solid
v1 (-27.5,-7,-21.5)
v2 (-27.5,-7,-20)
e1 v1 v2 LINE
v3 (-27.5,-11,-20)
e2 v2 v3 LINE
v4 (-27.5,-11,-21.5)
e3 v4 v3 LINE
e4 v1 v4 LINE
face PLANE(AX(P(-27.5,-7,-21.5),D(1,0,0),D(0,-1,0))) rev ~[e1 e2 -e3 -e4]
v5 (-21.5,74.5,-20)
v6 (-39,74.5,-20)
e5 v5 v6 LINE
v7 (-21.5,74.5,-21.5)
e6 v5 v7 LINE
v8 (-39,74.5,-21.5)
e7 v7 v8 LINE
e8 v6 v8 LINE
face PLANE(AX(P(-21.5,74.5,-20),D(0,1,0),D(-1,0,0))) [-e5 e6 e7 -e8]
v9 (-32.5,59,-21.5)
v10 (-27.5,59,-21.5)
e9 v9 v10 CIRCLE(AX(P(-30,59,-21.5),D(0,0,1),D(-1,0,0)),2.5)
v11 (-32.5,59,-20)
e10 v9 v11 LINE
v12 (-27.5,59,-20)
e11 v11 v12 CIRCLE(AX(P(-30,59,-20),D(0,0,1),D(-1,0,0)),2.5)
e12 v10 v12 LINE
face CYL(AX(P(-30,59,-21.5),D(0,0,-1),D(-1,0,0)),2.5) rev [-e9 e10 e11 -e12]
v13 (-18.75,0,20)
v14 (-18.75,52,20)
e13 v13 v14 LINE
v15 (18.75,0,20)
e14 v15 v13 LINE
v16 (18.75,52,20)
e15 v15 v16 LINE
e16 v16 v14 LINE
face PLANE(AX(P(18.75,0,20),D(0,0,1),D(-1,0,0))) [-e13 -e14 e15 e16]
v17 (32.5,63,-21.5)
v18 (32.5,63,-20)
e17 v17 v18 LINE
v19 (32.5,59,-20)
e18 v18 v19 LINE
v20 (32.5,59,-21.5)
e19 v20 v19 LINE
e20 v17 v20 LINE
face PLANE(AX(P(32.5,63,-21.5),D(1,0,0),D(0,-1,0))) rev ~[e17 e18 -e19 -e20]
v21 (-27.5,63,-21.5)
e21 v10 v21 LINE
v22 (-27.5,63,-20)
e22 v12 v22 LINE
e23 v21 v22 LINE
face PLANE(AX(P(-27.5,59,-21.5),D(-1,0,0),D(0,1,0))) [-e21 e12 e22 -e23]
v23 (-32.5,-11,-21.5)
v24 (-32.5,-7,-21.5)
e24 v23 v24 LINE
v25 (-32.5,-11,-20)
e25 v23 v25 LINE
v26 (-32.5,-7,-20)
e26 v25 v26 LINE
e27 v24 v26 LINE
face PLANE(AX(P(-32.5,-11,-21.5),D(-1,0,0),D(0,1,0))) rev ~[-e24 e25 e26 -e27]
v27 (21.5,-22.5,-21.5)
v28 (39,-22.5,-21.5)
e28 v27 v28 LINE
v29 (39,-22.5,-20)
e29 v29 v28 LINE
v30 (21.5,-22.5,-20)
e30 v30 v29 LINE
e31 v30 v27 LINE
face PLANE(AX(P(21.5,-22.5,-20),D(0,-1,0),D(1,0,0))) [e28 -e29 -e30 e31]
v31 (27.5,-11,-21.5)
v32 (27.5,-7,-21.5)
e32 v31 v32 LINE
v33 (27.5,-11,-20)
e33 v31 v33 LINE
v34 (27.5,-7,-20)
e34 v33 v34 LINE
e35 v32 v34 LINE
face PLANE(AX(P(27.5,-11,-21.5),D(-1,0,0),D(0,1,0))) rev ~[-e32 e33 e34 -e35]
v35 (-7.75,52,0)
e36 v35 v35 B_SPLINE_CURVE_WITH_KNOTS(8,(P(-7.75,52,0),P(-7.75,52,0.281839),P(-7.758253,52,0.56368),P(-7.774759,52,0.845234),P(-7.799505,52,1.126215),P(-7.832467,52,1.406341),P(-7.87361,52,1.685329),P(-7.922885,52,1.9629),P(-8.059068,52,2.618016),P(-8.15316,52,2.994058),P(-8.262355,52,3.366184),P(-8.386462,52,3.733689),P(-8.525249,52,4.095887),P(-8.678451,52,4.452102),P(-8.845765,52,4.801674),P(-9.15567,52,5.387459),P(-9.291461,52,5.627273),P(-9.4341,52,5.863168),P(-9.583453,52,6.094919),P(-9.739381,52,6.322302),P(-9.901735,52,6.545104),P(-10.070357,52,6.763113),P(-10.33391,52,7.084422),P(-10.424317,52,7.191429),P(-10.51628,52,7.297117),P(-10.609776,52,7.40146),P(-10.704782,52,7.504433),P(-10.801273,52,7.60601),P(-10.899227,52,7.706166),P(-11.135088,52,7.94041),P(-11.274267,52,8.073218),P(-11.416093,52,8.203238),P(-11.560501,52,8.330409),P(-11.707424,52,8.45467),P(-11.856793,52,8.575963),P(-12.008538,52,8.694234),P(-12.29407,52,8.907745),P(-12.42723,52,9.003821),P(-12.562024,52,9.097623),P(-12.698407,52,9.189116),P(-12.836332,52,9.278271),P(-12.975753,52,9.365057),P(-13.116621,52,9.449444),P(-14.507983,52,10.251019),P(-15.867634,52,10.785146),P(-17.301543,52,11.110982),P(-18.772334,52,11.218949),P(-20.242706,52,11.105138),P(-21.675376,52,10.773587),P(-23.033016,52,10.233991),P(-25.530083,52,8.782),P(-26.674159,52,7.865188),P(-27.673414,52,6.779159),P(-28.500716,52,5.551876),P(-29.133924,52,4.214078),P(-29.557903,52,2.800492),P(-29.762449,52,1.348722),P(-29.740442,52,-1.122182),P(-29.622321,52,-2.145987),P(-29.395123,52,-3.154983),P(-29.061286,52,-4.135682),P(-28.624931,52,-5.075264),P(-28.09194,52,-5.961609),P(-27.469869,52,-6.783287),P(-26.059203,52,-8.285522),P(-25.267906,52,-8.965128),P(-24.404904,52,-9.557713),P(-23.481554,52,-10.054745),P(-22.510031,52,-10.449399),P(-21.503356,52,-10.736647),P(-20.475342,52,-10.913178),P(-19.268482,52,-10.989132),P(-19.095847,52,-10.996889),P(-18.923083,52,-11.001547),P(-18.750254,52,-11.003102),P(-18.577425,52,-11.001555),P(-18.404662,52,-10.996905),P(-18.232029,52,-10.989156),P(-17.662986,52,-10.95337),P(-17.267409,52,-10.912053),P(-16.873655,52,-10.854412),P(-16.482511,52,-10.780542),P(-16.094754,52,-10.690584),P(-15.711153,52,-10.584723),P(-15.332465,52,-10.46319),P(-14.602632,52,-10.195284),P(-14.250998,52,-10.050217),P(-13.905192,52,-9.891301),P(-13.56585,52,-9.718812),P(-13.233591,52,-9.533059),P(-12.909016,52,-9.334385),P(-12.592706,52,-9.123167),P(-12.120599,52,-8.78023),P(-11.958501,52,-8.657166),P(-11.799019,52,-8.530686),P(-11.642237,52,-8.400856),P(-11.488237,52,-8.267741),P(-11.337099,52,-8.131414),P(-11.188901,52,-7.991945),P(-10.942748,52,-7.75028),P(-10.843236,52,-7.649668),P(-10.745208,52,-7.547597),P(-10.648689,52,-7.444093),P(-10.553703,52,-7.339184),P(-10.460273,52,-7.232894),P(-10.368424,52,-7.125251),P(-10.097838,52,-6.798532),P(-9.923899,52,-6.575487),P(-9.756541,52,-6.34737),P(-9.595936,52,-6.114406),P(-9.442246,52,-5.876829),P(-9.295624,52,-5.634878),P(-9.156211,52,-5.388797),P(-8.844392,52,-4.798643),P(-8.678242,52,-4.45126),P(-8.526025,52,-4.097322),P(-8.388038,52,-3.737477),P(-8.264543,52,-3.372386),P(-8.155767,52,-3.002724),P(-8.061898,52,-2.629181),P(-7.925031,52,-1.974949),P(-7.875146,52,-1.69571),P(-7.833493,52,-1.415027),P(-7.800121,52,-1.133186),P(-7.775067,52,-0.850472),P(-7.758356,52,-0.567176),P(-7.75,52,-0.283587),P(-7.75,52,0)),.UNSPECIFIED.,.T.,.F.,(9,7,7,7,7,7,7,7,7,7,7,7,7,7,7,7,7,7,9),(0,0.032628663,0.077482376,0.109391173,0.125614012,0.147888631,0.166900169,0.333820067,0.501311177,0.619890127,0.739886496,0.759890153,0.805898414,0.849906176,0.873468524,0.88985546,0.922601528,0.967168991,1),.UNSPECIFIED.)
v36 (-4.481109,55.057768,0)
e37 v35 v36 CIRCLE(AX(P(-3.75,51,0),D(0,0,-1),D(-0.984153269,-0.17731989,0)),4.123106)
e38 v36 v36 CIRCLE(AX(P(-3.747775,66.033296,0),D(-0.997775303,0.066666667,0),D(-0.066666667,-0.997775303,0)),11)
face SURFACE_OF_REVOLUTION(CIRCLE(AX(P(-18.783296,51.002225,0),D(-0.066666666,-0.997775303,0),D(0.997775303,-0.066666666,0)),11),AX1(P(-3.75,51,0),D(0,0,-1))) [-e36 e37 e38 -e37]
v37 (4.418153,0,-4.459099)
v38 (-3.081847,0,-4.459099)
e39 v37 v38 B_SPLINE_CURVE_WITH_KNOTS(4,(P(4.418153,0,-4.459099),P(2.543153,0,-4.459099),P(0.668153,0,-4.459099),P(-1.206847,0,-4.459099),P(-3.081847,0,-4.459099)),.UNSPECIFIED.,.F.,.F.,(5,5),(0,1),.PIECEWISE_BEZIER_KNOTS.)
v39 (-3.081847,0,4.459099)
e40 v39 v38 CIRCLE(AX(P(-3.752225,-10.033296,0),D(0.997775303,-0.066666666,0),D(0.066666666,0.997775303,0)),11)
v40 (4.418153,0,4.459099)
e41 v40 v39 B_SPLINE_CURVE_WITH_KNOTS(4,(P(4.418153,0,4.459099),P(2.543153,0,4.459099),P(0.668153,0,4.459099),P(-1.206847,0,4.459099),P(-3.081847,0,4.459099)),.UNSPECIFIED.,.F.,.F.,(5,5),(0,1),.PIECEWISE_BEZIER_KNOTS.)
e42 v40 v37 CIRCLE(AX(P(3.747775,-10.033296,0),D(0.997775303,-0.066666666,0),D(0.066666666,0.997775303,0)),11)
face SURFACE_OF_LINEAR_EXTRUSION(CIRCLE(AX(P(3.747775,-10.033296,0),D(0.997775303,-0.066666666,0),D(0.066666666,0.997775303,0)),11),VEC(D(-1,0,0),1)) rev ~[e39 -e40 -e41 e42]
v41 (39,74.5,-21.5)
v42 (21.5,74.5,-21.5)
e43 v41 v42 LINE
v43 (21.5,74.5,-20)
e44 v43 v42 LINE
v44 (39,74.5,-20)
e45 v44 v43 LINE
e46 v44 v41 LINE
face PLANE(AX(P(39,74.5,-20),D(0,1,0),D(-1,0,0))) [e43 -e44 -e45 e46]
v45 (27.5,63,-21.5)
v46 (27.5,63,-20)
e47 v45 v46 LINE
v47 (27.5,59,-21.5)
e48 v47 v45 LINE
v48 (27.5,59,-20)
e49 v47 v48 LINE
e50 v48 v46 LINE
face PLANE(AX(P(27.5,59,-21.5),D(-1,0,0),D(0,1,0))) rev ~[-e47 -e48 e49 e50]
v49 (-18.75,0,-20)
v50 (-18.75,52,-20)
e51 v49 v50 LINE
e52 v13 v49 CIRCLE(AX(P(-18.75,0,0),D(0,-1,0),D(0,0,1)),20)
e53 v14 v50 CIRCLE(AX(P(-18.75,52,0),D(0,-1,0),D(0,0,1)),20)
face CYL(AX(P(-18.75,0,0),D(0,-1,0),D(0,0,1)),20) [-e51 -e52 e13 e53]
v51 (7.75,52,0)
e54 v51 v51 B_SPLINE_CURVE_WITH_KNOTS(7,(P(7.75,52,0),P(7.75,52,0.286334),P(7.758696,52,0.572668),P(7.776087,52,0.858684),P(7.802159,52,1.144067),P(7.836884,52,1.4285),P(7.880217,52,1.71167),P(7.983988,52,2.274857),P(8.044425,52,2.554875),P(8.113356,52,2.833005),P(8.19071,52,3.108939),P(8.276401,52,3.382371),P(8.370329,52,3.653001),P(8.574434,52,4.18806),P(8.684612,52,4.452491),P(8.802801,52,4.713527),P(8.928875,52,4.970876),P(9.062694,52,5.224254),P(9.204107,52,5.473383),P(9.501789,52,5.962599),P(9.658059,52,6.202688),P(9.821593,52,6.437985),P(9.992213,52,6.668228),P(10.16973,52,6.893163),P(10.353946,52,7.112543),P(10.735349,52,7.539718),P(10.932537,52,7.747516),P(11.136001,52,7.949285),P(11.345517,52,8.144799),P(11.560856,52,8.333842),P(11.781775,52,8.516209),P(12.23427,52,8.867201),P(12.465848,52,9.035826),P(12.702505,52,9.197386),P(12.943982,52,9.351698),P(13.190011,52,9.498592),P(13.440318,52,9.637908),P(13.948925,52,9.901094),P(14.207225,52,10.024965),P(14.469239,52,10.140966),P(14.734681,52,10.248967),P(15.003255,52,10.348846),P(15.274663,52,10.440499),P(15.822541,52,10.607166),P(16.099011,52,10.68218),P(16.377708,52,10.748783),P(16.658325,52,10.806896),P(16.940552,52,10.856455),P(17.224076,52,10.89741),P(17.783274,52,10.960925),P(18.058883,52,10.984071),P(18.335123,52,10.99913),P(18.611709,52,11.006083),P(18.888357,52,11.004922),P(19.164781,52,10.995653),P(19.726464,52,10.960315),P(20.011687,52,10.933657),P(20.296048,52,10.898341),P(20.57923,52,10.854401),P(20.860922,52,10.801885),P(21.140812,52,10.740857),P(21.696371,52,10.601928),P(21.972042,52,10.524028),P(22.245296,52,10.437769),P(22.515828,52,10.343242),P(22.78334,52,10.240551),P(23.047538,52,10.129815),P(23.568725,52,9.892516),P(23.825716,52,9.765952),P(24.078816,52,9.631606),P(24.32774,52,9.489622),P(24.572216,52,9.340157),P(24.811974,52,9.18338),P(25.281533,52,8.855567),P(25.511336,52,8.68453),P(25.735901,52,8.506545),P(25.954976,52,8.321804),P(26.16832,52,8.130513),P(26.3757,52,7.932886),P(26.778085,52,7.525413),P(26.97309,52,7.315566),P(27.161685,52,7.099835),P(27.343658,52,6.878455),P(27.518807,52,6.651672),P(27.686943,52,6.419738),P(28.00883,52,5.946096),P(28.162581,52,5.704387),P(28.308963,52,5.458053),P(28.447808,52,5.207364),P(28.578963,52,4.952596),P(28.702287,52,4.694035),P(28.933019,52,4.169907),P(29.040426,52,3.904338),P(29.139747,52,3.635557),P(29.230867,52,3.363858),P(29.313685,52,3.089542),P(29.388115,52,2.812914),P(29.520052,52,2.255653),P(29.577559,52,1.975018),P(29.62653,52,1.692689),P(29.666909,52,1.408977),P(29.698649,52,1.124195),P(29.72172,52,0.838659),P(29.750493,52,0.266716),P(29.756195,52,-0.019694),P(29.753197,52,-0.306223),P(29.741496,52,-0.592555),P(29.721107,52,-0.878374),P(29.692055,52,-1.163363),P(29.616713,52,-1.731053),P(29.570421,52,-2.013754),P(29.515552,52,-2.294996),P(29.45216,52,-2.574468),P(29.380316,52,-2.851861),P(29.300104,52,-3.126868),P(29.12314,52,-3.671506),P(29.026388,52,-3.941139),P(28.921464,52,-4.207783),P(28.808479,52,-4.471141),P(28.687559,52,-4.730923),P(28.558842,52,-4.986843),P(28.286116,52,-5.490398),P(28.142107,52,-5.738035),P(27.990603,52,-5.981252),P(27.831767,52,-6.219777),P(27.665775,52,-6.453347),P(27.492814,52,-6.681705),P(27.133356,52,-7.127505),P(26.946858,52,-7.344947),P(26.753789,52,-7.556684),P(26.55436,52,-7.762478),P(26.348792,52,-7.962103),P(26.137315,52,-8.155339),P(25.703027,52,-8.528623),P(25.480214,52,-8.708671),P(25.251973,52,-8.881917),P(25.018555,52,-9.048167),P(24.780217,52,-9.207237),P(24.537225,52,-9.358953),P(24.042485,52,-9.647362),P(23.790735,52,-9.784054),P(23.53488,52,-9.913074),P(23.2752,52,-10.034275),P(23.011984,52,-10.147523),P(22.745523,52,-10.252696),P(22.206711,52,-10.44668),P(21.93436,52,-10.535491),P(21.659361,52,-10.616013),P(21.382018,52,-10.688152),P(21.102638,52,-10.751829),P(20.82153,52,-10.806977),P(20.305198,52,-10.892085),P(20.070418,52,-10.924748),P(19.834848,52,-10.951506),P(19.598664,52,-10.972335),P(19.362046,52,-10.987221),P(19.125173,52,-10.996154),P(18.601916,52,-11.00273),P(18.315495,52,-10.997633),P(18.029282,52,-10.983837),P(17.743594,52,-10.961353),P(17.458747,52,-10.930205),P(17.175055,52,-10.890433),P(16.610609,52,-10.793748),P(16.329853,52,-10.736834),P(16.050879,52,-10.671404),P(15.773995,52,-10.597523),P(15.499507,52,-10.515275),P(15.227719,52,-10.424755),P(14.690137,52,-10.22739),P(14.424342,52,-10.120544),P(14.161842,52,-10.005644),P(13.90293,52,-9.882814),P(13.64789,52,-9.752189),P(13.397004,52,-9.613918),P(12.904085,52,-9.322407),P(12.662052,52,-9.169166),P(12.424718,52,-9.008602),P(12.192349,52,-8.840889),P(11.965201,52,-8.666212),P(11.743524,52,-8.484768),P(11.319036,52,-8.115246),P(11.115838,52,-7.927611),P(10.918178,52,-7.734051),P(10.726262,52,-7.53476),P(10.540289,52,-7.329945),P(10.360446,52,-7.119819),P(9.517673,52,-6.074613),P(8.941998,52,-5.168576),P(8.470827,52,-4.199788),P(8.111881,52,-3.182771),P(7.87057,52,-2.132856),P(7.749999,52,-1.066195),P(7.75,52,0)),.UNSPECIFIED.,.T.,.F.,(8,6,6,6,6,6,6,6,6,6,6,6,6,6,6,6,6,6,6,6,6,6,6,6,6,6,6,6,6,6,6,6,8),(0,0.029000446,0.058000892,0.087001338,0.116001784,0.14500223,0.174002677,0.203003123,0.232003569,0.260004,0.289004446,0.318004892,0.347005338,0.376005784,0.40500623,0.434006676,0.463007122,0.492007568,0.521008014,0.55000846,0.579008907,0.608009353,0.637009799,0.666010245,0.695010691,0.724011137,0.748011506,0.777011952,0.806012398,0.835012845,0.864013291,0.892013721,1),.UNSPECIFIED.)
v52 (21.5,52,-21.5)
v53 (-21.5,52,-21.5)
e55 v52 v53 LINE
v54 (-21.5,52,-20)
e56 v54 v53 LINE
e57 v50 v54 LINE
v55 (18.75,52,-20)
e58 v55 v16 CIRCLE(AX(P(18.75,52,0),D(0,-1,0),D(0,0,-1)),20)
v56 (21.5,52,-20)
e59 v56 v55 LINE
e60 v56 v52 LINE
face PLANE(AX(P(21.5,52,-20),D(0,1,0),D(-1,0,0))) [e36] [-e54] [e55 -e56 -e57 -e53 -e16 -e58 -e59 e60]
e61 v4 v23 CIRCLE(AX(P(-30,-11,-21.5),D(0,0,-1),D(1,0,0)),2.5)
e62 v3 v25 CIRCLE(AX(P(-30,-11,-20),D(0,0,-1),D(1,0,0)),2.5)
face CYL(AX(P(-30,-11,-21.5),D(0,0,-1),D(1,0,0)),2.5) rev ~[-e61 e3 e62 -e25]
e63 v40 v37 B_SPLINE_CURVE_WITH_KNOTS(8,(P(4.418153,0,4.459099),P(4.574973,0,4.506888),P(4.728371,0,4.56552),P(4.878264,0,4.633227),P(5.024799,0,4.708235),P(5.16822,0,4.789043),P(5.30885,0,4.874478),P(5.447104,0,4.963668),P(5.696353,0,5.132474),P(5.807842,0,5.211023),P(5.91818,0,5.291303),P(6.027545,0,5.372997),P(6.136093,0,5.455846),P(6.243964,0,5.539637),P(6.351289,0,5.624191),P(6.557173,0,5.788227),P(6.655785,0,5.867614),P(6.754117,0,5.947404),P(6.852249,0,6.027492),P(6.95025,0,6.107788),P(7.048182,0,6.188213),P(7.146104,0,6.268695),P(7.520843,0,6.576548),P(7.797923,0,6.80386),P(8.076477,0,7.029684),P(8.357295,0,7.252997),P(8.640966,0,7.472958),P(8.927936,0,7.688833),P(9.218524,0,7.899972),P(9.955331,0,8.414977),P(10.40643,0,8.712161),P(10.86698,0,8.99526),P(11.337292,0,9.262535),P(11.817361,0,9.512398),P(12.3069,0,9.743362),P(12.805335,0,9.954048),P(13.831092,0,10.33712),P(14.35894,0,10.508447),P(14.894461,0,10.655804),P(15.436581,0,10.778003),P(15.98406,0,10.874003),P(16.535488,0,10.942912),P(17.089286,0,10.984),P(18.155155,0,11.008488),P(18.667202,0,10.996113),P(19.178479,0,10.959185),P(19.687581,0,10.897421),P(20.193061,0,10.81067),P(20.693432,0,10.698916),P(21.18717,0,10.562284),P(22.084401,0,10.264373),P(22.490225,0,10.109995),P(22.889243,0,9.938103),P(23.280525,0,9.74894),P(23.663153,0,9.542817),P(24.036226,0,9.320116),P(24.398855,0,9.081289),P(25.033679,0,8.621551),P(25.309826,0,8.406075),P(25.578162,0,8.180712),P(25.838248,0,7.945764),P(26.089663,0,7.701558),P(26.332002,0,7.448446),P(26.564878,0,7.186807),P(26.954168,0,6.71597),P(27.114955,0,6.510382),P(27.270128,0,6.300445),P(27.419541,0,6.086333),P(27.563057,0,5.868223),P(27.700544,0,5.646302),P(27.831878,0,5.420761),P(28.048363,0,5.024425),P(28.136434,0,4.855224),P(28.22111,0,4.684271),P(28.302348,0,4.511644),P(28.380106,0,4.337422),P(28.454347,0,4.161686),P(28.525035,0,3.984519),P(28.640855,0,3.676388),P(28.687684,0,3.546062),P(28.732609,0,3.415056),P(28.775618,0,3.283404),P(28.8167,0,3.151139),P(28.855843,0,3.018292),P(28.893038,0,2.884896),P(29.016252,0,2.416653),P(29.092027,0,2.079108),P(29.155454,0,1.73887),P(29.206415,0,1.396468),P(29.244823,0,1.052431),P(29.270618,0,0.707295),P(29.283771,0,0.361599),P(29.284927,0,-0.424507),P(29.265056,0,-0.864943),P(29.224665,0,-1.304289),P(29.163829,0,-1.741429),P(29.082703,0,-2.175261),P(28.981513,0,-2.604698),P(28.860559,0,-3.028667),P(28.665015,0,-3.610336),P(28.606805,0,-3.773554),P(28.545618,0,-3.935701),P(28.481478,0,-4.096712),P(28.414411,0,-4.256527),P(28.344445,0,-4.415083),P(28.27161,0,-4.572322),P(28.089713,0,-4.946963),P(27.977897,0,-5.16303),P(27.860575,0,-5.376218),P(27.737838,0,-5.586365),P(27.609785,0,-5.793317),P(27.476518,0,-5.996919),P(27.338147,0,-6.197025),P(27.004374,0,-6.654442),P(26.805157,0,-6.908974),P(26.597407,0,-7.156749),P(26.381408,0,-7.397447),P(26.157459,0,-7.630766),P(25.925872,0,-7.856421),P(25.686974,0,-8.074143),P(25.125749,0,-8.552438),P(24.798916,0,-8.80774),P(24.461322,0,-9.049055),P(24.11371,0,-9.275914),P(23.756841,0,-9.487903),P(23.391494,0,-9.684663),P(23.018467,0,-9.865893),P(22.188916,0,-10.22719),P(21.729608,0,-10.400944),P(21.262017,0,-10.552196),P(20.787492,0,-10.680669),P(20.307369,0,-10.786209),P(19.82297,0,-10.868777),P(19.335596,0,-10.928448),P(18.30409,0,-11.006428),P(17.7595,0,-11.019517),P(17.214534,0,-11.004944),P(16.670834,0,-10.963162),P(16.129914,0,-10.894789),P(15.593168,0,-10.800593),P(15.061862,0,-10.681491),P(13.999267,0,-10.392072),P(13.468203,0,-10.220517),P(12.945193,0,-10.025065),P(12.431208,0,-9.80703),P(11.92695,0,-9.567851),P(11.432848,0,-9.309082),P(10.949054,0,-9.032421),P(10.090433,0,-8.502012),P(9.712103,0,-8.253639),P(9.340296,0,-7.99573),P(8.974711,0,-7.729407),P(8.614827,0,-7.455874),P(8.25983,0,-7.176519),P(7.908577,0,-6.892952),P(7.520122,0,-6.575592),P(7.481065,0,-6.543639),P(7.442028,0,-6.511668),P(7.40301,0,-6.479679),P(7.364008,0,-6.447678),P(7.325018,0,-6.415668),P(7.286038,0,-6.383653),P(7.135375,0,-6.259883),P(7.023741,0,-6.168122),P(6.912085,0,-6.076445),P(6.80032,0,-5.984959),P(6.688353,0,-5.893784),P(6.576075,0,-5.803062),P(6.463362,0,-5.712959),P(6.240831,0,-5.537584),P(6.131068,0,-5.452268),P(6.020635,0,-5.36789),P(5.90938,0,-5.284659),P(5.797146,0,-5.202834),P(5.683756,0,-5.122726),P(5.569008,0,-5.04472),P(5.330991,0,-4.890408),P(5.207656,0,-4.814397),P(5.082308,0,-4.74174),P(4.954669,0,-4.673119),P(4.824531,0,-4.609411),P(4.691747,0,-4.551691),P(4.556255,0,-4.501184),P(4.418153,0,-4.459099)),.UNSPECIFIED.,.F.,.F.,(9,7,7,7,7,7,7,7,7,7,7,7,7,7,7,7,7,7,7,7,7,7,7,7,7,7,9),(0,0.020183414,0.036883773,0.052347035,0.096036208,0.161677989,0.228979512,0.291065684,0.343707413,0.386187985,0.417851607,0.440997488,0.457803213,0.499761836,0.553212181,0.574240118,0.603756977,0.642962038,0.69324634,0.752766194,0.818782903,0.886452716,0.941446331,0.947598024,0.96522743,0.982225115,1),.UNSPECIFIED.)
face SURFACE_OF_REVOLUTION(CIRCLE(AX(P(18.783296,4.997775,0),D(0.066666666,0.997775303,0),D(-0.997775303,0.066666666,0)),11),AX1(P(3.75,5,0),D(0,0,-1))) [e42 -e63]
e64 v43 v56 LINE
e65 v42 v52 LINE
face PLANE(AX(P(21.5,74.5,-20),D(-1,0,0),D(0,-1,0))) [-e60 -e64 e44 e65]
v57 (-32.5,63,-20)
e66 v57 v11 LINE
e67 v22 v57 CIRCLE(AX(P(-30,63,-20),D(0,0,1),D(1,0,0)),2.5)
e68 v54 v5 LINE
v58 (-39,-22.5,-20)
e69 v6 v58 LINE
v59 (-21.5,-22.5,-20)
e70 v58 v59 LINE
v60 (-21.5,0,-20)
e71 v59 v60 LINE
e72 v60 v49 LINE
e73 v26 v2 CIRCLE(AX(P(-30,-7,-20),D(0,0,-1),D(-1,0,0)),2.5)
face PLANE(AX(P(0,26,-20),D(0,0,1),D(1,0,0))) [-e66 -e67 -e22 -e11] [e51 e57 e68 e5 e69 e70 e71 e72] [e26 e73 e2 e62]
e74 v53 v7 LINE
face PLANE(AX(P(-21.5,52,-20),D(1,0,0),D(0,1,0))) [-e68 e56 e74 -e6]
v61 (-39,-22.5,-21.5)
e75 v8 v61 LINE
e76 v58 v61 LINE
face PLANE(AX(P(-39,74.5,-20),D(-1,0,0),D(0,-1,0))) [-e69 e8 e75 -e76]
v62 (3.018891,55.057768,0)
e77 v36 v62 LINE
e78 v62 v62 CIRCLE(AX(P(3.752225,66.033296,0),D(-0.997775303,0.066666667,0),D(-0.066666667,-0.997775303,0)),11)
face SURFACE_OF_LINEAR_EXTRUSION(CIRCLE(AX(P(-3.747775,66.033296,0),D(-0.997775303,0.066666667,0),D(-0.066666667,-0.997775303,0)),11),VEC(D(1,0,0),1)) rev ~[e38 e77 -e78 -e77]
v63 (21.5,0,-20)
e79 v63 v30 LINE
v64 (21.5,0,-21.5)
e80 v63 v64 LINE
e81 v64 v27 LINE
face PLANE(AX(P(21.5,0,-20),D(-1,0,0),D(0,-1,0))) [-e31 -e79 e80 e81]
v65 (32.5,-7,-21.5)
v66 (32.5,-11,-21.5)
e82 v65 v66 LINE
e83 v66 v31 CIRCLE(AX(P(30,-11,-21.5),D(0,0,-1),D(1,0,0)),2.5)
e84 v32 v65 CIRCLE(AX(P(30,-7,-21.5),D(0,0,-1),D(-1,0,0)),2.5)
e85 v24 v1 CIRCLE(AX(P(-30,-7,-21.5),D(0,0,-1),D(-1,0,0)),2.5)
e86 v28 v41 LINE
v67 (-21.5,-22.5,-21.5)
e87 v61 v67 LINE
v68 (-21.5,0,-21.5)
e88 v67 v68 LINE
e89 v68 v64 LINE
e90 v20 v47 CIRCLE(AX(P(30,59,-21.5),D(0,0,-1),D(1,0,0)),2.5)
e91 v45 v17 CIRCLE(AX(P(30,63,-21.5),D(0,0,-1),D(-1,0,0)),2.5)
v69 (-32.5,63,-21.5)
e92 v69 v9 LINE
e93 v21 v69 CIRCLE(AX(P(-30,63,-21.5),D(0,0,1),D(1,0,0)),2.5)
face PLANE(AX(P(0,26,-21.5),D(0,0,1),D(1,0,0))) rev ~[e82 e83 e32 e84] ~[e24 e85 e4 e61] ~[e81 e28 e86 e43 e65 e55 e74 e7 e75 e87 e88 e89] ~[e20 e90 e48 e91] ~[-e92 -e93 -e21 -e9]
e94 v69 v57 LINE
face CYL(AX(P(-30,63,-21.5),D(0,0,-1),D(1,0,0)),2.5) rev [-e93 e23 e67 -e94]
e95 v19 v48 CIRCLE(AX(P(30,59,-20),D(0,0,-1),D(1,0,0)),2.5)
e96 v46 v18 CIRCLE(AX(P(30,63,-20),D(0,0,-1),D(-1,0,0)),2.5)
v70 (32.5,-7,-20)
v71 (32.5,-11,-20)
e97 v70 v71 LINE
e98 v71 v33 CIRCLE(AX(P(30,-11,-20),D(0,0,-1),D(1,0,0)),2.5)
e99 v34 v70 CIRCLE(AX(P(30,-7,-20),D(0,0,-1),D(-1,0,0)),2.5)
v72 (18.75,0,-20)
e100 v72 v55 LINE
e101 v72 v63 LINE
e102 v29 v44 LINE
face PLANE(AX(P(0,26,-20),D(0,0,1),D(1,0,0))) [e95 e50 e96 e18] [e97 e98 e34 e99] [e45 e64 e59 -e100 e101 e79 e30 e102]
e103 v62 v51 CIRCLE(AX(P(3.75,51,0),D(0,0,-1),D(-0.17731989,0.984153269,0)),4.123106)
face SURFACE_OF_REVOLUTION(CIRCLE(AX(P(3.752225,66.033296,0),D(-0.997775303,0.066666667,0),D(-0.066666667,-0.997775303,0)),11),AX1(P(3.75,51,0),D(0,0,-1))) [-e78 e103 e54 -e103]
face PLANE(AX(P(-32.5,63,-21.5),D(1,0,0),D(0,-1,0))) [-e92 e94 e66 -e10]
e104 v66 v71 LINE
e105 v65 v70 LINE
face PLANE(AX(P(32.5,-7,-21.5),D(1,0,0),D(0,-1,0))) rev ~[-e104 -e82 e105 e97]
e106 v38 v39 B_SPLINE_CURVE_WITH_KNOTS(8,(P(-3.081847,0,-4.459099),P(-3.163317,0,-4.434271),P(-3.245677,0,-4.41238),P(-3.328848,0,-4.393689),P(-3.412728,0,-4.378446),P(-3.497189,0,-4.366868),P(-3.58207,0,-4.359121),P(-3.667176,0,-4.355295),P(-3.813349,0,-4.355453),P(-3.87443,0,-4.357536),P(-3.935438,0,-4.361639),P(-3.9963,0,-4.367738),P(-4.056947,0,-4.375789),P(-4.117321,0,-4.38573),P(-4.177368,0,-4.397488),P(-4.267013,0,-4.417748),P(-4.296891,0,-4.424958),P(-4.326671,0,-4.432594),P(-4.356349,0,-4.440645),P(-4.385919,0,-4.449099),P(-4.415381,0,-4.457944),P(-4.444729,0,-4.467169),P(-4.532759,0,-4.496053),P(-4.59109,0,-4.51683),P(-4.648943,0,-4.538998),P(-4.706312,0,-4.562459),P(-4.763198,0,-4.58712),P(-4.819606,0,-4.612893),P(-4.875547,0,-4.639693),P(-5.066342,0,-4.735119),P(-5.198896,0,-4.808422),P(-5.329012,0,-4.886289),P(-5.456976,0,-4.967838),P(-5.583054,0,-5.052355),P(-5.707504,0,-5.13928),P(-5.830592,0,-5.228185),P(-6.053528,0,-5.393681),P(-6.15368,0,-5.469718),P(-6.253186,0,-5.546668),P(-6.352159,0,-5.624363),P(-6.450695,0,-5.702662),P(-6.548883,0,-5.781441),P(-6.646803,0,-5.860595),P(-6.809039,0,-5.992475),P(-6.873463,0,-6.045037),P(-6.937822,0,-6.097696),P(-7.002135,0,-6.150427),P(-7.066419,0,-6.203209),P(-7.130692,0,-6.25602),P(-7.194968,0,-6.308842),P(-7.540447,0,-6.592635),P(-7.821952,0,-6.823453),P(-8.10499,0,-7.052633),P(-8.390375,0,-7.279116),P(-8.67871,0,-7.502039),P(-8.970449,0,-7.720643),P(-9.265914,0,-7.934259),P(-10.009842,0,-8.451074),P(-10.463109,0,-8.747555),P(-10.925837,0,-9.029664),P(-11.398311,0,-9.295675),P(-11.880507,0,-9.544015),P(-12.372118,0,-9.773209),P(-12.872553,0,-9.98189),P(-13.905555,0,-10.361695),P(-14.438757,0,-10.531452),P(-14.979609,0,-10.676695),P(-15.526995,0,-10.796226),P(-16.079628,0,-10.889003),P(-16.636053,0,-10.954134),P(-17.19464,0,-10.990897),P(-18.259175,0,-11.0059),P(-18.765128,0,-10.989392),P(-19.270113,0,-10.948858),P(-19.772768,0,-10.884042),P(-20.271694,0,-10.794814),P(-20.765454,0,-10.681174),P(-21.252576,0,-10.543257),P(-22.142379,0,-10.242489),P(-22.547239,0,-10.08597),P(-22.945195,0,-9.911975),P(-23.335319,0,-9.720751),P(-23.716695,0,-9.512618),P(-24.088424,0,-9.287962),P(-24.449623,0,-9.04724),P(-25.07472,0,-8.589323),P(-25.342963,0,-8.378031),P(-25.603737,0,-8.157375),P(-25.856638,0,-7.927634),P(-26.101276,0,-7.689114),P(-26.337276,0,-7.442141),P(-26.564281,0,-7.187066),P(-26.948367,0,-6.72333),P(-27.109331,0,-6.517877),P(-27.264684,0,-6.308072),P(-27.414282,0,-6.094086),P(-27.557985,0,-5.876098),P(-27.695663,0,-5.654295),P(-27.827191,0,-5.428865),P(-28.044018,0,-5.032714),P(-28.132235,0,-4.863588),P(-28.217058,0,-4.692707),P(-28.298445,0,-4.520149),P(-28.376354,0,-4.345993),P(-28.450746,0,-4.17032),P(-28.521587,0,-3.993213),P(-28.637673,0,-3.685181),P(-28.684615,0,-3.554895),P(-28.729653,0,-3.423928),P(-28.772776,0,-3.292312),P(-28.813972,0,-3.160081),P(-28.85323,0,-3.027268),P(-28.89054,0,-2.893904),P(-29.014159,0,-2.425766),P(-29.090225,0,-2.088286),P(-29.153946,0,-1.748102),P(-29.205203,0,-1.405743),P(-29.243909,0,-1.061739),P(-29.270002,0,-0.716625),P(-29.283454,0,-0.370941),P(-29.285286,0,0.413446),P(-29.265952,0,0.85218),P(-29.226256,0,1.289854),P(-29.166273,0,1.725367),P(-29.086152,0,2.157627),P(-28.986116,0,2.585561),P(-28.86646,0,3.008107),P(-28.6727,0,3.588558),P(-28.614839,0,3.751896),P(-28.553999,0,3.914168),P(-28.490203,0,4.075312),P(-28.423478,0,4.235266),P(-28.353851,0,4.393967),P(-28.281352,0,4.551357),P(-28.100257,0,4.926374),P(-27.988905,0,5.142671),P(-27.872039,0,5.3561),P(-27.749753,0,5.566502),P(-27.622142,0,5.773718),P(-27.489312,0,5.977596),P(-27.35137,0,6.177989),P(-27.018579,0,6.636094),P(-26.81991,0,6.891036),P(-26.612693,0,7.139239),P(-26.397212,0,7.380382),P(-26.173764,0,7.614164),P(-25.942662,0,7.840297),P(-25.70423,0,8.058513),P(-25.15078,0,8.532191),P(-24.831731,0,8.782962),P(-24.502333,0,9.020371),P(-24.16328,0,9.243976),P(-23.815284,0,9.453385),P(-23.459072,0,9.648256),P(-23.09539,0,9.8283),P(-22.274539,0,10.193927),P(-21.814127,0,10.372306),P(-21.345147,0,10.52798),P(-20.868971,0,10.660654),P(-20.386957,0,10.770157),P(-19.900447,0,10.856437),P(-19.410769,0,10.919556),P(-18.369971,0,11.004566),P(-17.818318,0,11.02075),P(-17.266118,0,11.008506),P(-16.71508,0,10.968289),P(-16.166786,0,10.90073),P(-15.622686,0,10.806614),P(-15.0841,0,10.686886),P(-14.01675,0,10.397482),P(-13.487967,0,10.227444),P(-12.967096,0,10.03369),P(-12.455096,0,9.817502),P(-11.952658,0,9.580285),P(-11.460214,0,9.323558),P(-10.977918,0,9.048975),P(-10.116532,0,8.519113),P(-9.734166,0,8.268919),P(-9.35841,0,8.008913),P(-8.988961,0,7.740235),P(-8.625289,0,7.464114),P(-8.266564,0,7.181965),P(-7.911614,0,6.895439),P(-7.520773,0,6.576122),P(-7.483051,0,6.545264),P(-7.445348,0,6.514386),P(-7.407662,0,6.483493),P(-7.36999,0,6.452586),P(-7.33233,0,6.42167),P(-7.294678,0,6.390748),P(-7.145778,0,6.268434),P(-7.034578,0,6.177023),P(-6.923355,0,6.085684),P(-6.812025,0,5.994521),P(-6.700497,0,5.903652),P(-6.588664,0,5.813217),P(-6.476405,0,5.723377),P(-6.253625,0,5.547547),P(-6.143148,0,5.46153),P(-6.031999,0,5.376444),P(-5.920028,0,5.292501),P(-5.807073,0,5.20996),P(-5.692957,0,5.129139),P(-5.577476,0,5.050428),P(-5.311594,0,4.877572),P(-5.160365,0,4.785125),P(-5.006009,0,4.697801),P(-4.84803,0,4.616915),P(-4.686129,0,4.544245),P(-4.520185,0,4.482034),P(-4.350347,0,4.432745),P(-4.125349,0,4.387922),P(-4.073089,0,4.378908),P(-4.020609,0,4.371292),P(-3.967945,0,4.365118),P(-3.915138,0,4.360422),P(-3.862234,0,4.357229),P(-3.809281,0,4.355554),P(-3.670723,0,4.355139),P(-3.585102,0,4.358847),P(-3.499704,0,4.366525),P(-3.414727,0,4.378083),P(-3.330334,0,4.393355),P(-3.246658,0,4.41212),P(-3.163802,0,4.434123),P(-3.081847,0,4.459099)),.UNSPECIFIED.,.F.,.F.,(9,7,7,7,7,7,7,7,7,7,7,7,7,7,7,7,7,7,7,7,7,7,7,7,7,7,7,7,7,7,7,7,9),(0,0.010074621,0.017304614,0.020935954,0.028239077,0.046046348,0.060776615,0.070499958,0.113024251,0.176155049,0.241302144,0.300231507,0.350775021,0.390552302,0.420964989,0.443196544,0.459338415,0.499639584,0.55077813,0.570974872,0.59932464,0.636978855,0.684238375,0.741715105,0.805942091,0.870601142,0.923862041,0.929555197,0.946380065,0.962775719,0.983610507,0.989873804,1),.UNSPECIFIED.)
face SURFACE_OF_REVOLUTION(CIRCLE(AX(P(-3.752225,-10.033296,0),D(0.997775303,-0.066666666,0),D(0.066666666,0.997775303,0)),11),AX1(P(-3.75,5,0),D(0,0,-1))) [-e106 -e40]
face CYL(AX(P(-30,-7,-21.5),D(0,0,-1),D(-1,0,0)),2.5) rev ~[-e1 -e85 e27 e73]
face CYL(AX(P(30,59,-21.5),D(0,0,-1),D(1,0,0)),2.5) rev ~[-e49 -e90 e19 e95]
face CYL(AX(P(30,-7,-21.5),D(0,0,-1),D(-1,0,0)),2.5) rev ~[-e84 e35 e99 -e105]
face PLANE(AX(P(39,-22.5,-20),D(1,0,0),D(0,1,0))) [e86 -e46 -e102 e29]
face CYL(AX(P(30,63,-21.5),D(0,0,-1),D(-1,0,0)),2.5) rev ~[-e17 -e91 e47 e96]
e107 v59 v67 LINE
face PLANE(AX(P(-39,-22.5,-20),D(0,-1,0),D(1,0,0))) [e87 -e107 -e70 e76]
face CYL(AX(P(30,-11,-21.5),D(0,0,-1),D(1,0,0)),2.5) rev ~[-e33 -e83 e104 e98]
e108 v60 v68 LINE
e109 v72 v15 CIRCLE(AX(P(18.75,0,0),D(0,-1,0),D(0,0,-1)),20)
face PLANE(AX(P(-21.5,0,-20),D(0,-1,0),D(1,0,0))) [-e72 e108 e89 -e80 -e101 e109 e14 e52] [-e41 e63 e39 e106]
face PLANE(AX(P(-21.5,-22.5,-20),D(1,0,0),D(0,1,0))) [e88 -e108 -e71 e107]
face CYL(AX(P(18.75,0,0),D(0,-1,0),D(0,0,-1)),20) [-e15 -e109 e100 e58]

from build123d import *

# Parameters (mm, degrees)
EXTRUDE_1_DEPTH     = 52
EXTRUDE_2_DEPTH     = 1.5
SKETCH_4_R          = 11
CUT_EXTRUDE_1_DEPTH = 1.5


with BuildPart() as part:
    # 草图1 → 拉伸1 (new body)
    with BuildSketch(Plane(origin=(0, 0, 0), x_dir=(1, 0, 0), z_dir=(0, 1, 0))):
        with BuildLine():
            Line((-18.75, 20), (18.75, 20))
            ThreePointArc((18.75, 20), (38.75, 0), (18.75, -20))
            Line((18.75, -20), (-18.75, -20))
            ThreePointArc((-18.75, -20), (-38.75, 0), (-18.75, 20))
        make_face()
    extrude(amount=EXTRUDE_1_DEPTH)

    # 草图2 → 拉伸2 (add)
    with BuildSketch(Plane(origin=(0, 0, -20), x_dir=(-1, 0, 0), z_dir=(0, 0, -1))):
        Polygon((39, 74.5), (39, -22.5), (21.5, -22.5), (21.5, 0), (-21.5, 0), (-21.5, -22.5), (-39, -22.5), (-39, 74.5), (-21.5, 74.5), (-21.5, 52), (21.5, 52), (21.5, 74.5), align=None)
    extrude(amount=EXTRUDE_2_DEPTH)

    # 扫描4: sweep along a path in 草图3
    with BuildLine(Plane.XY) as sweep_4_path:
        Line((18.75, 51), (18.75, 5))
        ThreePointArc((18.75, 5), (14.356601718, -5.606601718), (3.75, -10))
        Line((3.75, -10), (-3.75, -10))
        ThreePointArc((-3.75, -10), (-14.356601718, -5.606601718), (-18.75, 5))
        Line((-18.75, 5), (-18.75, 51))
        ThreePointArc((-18.75, 51), (-14.356601718, 61.606601718), (-3.75, 66))
        Line((-3.75, 66), (3.75, 66))
        ThreePointArc((3.75, 66), (14.356601718, 61.606601718), (18.75, 51))
    # 草图4 → 扫描4 (sweep)
    with BuildSketch(Plane(origin=(0, 52, 0), x_dir=(-1, 0, 0), z_dir=(0, 1, 0))):
        with Locations((-18.75, 0)):
            Circle(SKETCH_4_R)
    sweep(path=sweep_4_path.line)

    # 草图6 → 切除-拉伸1 (cut)
    with BuildSketch(Plane(origin=(0, 0, -21.5), x_dir=(-1, 0, 0), z_dir=(0, 0, -1))):
        with BuildLine():
            Line((-32.5, 63), (-32.5, 59))
            ThreePointArc((-32.5, 59), (-30, 56.5), (-27.5, 59))
            Line((-27.5, 59), (-27.5, 63))
            ThreePointArc((-27.5, 63), (-30, 65.5), (-32.5, 63))
        make_face()
        with BuildLine():
            Line((32.5, 63), (32.5, 59))
            ThreePointArc((32.5, 59), (30, 56.5), (27.5, 59))
            Line((27.5, 59), (27.5, 63))
            ThreePointArc((27.5, 63), (30, 65.5), (32.5, 63))
        make_face()
        with BuildLine():
            Line((32.5, -11), (32.5, -7))
            ThreePointArc((32.5, -7), (30, -4.5), (27.5, -7))
            Line((27.5, -7), (27.5, -11))
            ThreePointArc((27.5, -11), (30, -13.5), (32.5, -11))
        make_face()
        with BuildLine():
            Line((-27.5, -11), (-27.5, -7))
            ThreePointArc((-27.5, -7), (-30, -4.5), (-32.5, -7))
            Line((-32.5, -7), (-32.5, -11))
            ThreePointArc((-32.5, -11), (-30, -13.5), (-27.5, -11))
        make_face()
    extrude(amount=-CUT_EXTRUDE_1_DEPTH, mode=Mode.SUBTRACT)


solid = part.part
